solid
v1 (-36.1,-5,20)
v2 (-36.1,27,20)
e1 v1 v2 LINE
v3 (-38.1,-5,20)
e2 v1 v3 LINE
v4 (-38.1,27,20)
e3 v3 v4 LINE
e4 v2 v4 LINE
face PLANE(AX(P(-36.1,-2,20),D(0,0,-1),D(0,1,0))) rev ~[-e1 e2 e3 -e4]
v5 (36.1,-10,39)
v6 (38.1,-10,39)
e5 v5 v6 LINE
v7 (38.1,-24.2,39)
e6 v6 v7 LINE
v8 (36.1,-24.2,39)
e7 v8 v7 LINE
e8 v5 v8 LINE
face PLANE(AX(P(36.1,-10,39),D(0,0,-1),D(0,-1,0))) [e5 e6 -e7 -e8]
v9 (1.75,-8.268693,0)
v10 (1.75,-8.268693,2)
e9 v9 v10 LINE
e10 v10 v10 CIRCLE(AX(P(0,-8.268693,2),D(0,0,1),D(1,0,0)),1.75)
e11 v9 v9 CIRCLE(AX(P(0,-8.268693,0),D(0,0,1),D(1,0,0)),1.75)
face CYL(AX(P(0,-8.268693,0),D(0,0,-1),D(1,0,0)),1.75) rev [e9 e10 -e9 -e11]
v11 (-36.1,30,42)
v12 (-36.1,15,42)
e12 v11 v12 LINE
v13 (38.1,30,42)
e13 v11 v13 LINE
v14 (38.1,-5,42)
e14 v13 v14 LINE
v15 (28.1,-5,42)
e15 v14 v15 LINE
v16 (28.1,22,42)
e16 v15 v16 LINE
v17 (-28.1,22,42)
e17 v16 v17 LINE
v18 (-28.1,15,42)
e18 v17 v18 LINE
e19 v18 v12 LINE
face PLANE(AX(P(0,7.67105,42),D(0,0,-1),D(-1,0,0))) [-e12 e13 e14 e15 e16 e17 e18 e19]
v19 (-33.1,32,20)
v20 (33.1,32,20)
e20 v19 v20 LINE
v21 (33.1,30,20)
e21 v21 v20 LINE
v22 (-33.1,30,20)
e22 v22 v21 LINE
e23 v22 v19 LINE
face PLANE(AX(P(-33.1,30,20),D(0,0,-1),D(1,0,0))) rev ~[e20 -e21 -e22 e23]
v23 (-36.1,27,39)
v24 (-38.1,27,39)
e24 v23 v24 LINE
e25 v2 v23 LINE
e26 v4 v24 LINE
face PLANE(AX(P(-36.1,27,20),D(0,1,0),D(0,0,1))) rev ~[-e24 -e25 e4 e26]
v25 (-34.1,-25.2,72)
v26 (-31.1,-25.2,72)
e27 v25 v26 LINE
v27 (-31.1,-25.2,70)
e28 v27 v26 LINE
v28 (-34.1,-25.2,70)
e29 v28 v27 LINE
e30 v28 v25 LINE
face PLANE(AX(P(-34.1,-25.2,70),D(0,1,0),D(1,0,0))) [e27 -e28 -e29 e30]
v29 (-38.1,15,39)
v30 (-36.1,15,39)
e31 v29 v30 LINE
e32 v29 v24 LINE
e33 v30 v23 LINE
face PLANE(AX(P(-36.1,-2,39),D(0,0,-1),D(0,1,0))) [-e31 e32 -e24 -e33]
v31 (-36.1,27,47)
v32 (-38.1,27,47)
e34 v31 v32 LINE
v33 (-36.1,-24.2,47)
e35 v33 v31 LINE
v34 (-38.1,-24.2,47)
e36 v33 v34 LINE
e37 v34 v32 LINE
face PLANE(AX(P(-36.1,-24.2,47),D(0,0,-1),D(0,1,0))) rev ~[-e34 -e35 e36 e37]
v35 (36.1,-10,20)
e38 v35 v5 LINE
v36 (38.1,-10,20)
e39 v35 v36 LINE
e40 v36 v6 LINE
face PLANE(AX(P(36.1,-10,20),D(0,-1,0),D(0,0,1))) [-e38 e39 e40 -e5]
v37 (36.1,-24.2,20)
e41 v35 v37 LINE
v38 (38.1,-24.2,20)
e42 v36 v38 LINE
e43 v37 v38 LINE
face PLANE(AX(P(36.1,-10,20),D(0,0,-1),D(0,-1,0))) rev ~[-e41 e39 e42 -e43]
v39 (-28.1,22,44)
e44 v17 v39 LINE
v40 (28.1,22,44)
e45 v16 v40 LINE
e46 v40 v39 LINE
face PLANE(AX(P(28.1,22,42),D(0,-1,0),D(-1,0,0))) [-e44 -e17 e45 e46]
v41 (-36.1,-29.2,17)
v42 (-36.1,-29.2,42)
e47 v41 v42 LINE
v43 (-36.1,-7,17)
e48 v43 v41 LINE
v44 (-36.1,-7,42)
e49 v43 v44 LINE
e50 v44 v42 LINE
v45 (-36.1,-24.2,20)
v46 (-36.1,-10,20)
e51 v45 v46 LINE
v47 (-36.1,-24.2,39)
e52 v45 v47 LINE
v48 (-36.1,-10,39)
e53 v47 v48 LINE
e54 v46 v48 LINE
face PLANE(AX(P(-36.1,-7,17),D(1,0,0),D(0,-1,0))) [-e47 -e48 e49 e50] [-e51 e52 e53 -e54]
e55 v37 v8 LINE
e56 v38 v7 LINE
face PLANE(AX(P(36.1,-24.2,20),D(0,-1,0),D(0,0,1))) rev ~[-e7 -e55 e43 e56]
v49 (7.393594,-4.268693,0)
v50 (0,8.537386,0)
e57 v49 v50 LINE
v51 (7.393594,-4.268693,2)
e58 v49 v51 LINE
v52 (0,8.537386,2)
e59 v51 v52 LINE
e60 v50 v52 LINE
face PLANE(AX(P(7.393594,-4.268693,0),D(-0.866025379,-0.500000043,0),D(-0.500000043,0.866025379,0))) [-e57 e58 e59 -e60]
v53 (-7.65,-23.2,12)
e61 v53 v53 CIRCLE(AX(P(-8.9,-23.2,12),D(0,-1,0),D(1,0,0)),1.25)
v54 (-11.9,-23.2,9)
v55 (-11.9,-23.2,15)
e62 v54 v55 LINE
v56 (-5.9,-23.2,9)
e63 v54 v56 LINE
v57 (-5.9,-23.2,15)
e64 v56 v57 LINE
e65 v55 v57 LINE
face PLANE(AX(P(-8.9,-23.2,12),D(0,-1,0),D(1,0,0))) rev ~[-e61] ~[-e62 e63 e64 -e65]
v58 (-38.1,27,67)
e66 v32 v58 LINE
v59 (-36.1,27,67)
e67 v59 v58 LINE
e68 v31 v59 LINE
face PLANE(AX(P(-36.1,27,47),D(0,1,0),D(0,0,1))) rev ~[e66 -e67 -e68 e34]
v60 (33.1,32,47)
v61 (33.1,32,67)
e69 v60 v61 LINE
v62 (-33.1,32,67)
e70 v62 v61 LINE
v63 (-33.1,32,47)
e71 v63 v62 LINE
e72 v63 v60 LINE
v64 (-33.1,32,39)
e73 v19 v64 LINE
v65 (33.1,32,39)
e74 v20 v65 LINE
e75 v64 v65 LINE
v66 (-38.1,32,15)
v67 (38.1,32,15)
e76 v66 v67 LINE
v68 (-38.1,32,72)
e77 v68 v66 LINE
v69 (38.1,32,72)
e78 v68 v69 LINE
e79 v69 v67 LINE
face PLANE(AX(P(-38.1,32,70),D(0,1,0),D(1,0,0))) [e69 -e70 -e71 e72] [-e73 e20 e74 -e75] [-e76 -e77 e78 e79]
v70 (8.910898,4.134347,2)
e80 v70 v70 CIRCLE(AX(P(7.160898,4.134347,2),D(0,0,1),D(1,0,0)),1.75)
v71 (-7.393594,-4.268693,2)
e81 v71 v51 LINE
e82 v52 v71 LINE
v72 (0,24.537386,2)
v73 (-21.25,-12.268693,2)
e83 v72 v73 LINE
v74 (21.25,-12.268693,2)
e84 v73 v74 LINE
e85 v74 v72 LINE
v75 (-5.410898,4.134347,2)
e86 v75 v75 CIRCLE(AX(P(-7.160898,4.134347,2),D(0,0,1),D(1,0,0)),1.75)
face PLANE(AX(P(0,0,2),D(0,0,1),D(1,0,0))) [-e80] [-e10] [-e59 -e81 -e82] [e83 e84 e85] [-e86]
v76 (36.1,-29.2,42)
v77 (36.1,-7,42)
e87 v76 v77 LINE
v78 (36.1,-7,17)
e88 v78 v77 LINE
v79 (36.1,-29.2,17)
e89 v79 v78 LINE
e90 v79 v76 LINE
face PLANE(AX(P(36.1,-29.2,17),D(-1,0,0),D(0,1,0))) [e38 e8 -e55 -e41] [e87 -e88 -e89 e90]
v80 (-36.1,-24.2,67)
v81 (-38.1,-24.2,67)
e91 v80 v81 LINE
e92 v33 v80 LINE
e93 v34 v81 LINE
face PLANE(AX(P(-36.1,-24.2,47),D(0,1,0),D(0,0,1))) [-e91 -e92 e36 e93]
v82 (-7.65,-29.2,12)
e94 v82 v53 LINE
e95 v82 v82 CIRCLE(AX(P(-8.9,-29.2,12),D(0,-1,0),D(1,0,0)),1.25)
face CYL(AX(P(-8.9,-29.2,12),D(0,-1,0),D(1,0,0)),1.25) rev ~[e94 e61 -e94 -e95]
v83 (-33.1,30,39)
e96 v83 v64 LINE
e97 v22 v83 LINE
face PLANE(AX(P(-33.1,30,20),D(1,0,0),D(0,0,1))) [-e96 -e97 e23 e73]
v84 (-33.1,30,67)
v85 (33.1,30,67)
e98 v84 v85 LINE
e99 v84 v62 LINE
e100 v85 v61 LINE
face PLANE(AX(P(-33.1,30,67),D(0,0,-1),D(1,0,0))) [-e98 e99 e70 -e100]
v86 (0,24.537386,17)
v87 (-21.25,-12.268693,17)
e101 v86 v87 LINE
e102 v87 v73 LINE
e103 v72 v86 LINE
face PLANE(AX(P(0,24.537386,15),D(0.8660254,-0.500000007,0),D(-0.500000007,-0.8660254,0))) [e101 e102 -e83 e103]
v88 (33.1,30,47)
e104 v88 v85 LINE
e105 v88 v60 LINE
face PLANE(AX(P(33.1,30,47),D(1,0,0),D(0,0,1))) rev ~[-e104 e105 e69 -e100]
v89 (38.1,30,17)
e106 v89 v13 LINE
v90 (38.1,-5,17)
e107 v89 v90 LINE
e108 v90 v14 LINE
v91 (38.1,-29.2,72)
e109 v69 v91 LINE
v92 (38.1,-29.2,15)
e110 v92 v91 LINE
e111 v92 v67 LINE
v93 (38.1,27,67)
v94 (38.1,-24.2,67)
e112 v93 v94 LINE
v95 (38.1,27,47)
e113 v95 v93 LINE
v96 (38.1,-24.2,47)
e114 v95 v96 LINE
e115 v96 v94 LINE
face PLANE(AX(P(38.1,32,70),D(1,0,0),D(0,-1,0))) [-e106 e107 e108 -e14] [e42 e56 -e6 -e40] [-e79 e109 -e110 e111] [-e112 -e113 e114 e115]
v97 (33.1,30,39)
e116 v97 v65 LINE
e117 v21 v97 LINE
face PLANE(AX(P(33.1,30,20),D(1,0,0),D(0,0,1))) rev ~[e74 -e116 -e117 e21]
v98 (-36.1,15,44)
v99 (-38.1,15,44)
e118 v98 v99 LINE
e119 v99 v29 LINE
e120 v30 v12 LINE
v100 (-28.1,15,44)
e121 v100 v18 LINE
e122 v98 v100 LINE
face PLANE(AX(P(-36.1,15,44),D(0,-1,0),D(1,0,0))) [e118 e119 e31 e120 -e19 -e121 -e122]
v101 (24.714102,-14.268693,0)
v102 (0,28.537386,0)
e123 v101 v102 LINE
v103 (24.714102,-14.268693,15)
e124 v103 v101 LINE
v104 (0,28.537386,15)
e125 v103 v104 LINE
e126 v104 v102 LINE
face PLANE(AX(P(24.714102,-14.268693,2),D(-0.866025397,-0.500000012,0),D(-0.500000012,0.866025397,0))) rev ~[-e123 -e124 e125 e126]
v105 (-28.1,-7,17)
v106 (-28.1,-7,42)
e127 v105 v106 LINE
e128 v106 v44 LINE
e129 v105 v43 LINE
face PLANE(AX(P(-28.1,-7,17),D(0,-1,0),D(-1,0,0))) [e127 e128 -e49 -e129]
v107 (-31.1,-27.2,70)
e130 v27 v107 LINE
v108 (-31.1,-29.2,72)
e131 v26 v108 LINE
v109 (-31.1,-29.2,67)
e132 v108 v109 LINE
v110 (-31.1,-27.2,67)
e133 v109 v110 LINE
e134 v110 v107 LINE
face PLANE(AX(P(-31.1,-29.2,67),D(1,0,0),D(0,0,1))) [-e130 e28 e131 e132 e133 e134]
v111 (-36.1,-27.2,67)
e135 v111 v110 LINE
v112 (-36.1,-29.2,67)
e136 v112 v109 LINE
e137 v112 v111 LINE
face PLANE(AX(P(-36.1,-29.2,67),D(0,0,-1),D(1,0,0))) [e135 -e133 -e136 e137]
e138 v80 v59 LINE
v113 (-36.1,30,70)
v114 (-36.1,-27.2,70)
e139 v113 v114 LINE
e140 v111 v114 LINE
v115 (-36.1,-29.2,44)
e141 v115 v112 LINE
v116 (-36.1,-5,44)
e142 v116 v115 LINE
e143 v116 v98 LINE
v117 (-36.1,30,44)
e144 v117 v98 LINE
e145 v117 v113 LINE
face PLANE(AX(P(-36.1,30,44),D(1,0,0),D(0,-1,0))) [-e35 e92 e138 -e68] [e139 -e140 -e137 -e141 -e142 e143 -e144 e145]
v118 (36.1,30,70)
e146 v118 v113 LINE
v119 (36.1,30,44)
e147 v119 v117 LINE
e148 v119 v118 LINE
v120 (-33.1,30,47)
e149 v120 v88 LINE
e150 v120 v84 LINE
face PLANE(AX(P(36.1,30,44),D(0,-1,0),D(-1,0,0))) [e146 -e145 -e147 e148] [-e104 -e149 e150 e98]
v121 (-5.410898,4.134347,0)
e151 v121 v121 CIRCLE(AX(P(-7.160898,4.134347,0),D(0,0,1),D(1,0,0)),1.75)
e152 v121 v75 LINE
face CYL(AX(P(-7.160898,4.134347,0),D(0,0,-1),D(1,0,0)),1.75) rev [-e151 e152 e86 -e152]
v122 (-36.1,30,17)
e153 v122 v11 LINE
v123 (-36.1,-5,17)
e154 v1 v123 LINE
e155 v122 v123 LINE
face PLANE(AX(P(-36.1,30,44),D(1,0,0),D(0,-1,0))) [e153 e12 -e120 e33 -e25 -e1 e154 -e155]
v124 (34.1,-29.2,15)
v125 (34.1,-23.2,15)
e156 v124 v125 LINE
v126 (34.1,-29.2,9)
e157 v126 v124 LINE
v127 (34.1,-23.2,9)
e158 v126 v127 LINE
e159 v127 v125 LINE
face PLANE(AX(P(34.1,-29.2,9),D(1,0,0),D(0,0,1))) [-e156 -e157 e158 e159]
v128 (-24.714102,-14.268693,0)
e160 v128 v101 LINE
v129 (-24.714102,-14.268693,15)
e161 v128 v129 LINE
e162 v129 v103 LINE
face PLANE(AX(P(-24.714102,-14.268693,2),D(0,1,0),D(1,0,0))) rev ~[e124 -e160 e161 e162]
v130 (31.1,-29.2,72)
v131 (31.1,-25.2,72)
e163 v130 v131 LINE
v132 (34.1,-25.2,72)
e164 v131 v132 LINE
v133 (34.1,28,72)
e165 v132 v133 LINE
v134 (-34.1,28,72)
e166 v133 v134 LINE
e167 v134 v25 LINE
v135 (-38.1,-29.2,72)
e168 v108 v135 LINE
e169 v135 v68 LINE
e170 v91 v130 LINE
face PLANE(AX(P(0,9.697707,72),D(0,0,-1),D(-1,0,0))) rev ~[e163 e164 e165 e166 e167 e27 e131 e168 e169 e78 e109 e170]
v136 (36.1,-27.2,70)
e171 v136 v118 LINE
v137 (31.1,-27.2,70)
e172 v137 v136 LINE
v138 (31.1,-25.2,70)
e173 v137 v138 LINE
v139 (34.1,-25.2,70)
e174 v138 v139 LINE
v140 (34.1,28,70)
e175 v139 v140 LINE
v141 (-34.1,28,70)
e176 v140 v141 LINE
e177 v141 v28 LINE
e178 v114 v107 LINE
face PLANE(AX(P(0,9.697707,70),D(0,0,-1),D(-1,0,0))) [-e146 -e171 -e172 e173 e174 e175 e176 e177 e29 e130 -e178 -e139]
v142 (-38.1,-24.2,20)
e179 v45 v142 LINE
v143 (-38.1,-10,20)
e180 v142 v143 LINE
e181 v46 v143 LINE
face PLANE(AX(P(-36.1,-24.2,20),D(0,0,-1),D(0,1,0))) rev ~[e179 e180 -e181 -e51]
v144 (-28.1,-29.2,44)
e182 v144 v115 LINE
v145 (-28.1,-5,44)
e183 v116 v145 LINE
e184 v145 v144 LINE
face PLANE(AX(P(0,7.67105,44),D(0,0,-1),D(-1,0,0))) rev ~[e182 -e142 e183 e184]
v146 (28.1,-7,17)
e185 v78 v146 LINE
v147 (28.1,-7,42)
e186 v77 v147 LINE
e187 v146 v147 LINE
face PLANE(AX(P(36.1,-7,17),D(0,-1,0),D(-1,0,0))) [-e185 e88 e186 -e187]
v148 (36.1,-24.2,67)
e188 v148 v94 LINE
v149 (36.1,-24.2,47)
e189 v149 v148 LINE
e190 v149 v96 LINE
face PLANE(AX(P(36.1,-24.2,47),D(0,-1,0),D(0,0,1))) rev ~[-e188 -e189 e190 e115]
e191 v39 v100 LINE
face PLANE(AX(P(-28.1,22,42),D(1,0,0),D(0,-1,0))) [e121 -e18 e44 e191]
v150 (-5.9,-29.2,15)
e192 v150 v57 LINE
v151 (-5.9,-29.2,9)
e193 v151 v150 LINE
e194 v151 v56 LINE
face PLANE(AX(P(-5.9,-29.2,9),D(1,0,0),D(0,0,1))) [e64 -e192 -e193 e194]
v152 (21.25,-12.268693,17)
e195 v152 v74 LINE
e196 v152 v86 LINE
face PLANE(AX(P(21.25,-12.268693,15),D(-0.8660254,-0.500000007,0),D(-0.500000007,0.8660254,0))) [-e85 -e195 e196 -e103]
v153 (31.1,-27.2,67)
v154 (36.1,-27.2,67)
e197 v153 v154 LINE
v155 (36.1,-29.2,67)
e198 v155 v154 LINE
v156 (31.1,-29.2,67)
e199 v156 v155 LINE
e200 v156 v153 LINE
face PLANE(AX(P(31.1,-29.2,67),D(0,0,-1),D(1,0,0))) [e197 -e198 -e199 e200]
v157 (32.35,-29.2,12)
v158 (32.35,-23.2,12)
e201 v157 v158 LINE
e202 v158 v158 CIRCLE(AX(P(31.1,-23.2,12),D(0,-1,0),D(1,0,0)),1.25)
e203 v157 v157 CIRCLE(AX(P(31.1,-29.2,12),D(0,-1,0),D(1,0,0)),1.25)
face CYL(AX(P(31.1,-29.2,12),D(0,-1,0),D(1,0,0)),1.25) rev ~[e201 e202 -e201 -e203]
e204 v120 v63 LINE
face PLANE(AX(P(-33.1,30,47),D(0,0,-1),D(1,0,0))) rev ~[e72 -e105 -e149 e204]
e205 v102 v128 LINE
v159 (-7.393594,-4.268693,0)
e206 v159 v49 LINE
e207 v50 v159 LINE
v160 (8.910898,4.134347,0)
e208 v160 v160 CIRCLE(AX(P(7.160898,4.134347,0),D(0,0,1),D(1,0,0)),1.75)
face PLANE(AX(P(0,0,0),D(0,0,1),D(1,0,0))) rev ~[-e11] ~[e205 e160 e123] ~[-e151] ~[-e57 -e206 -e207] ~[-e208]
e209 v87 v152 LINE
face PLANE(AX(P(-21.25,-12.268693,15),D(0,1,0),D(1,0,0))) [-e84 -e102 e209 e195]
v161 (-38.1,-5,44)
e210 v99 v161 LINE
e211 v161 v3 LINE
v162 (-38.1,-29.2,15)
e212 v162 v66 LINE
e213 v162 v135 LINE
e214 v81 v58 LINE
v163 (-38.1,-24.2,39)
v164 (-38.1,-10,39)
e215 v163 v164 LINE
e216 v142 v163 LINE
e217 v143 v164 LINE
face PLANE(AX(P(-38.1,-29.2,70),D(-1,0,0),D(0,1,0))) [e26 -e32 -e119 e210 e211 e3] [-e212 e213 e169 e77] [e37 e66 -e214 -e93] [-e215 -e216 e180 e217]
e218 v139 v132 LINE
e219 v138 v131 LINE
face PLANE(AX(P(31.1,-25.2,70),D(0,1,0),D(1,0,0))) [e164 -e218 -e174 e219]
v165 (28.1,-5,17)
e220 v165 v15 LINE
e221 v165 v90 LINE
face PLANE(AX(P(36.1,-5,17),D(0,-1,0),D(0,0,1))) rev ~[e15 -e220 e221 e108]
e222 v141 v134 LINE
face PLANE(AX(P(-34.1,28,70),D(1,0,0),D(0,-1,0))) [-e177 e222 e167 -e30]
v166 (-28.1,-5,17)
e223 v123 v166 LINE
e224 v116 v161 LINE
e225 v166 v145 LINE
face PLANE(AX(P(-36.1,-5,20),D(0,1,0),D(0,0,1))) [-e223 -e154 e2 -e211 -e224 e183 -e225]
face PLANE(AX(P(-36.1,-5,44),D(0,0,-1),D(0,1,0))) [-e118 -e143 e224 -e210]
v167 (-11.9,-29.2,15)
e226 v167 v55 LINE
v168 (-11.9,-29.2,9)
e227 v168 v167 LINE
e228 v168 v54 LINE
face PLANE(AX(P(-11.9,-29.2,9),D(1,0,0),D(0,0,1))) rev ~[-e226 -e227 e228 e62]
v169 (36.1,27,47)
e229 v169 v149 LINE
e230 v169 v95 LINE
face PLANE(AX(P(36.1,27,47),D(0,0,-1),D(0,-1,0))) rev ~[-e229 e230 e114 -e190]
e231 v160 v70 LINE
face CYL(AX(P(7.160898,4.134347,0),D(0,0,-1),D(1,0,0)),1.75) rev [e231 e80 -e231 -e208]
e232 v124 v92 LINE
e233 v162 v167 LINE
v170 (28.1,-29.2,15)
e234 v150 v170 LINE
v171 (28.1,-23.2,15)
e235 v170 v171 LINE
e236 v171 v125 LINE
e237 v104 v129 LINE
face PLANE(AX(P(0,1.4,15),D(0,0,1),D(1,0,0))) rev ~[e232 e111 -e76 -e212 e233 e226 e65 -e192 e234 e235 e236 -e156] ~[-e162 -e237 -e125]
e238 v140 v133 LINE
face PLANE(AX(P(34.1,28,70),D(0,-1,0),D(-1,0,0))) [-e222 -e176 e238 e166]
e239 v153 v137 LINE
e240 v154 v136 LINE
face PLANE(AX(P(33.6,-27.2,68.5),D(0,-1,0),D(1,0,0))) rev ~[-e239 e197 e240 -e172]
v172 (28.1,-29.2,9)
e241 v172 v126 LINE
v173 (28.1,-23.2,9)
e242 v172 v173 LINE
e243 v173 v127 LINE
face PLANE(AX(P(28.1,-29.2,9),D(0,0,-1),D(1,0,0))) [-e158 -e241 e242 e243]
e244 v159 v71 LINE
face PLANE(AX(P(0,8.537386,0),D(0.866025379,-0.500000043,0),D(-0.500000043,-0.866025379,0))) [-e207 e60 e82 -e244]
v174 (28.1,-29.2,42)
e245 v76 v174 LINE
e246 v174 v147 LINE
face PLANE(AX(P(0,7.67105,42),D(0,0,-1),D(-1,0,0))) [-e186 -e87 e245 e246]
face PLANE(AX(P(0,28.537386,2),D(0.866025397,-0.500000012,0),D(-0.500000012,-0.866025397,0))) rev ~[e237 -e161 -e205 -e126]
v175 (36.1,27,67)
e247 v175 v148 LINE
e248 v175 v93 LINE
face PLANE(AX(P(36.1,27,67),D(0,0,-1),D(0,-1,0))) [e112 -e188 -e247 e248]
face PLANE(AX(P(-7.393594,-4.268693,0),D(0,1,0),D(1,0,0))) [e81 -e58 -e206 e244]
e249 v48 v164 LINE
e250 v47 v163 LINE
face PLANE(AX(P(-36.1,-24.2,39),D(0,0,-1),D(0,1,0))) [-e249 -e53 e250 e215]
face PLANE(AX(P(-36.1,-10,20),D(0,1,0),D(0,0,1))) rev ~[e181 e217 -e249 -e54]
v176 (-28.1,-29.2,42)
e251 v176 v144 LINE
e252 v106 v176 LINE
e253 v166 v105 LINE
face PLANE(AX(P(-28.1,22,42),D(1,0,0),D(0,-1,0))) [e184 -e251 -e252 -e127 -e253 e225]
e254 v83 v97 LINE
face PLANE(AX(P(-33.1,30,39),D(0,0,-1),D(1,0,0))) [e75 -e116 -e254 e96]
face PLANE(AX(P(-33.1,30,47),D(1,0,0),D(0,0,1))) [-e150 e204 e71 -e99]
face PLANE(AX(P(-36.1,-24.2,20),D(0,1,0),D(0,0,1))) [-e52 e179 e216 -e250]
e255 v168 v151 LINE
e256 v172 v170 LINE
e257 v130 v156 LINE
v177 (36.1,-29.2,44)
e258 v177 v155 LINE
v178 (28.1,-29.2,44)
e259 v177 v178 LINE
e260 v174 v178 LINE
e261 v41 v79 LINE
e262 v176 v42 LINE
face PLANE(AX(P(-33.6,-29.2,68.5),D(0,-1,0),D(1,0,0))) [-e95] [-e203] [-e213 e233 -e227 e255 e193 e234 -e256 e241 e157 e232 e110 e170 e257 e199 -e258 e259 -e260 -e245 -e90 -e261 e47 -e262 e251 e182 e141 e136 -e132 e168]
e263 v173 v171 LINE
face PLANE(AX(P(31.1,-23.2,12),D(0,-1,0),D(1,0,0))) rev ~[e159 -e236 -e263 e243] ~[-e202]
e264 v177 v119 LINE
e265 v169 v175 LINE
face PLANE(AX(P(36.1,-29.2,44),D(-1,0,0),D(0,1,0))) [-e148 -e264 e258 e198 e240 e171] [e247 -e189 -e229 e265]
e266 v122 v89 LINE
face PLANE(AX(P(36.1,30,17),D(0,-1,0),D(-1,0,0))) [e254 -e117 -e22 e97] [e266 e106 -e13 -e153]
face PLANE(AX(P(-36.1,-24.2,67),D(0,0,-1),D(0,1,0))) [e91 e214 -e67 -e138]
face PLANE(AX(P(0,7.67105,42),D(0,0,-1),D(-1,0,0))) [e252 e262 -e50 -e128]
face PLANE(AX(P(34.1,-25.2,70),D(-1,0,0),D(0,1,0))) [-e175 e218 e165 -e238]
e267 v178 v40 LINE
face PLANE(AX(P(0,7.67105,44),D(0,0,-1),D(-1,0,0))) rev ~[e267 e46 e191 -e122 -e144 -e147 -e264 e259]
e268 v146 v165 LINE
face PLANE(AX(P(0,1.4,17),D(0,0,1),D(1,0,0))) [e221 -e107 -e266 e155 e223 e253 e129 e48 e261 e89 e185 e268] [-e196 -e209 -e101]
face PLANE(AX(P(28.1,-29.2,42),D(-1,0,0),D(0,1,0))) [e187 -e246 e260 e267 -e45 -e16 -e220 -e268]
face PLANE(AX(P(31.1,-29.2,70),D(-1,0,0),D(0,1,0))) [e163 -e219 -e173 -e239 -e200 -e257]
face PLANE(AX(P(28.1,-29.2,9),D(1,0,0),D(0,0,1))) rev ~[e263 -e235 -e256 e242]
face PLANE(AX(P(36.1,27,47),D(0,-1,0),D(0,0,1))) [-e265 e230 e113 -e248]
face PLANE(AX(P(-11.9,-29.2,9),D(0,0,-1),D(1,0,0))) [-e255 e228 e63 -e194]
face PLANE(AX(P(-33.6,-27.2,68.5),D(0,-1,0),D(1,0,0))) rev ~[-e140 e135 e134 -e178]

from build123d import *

# Parameters (mm, degrees)
SKETCH_R        = 1.75
PAD_DEPTH       = 2
PAD001_DEPTH    = 13
SKETCH002_W     = 76.2
SKETCH002_H     = 61.2
PAD002_DEPTH    = 2
PAD003_DEPTH    = 25
SKETCH004_W     = 14.2
SKETCH004_H     = 19
SKETCH004_W_2   = 29
POCKET_DEPTH    = 2
SKETCH005_W     = 66.2
SKETCH005_H     = 19
POCKET001_DEPTH = 2
SKETCH006_W     = 35
SKETCH006_H     = 25
SKETCH006_W_2   = 14.2
SKETCH006_H_2   = 19
POCKET002_DEPTH = 2
PAD004_DEPTH    = 2
PAD005_DEPTH    = 26
SKETCH009_W     = 51.2
SKETCH009_H     = 20
POCKET003_DEPTH = 2
SKETCH010_W     = 66.2
SKETCH010_H     = 20
POCKET004_DEPTH = 2
SKETCH011_W     = 51.2
SKETCH011_H     = 20
POCKET005_DEPTH = 2
PAD006_DEPTH    = 2
SKETCH013_W     = 5
SKETCH013_H     = 3
PAD007_DEPTH    = 2
SKETCH014_W     = 6
SKETCH014_H     = 6
SKETCH014_R     = 1.25
PAD008_DEPTH    = 6
SKETCH015_W     = 8
SKETCH015_H     = 20
POCKET006_DEPTH = 5
SKETCH016_W     = 20
SKETCH016_H     = 24
POCKET007_DEPTH = 5


with BuildPart() as part:
    # Sketch → Pad (new body)
    with BuildSketch(Plane.XY):
        Polygon((0, 28.537386), (-24.714102, -14.268693), (24.714102, -14.268693), align=None)
        with Locations((7.160898, 4.134347)):
            Circle(SKETCH_R, mode=Mode.SUBTRACT)
        with Locations((0, -8.268693)):
            Circle(SKETCH_R, mode=Mode.SUBTRACT)
        with Locations((-7.160898, 4.134347)):
            Circle(SKETCH_R, mode=Mode.SUBTRACT)
        Polygon((0, 8.537386), (-7.393594, -4.268693), (7.393594, -4.268693), align=None, mode=Mode.SUBTRACT)
    extrude(amount=PAD_DEPTH)

    # Sketch001 (on Face11 of Pad) → Pad001 (join)
    with BuildSketch(Plane.XY.offset(2)):
        Polygon((0, 28.537386), (-24.714102, -14.268693), (24.714102, -14.268693), align=None)
        Polygon((0, 24.537386), (-21.25, -12.268693), (21.25, -12.268693), align=None, mode=Mode.SUBTRACT)
    extrude(amount=PAD001_DEPTH)

    # Sketch002 (on Face14 of Pad001) → Pad002 (join)
    with BuildSketch(Plane.XY.offset(15)):
        with Locations((0, 1.4)):
            Rectangle(SKETCH002_W, SKETCH002_H)
        Polygon((0, 24.537386), (-21.25, -12.268693), (21.25, -12.268693), align=None, mode=Mode.SUBTRACT)
    extrude(amount=PAD002_DEPTH)

    # Sketch003 (on Face23 of Pad002) → Pad003 (join)
    with BuildSketch(Plane.XY.offset(17)):
        Polygon((-38.1, -29.2), (-38.1, 32), (38.1, 32), (38.1, -29.2), (36.1, -29.2), (36.1, -7), (28.1, -7), (28.1, -5), (36.1, -5), (36.1, 30), (-36.1, 30), (-36.1, -5), (-28.1, -5), (-28.1, -7), (-36.1, -7), (-36.1, -29.2), align=None)
    extrude(amount=PAD003_DEPTH)

    # Sketch004 (on Face39 of Pad003) → Pocket (cut)
    with BuildSketch(Plane.YZ.offset(-36.1)):
        with Locations((-17.1, 29.5)):
            Rectangle(SKETCH004_W, SKETCH004_H)
        with Locations((12.5, 29.5)):
            Rectangle(SKETCH004_W_2, SKETCH004_H)
    extrude(amount=-POCKET_DEPTH, mode=Mode.SUBTRACT)

    # Sketch005 (on Face46 of Pocket) → Pocket001 (cut)
    with BuildSketch(Plane.XZ.offset(-30)):
        with Locations((0, 29.5)):
            Rectangle(SKETCH005_W, SKETCH005_H)
    extrude(amount=-POCKET001_DEPTH, mode=Mode.SUBTRACT)

    # Sketch006 (on Face49 of Pocket001) → Pocket002 (cut)
    with BuildSketch(Plane(origin=(36.1, 0, 0), x_dir=(0, -1, 0), z_dir=(-1, 0, 0))):
        with Locations((-12.5, 29.5)):
            Rectangle(SKETCH006_W, SKETCH006_H)
        with Locations((17.1, 29.5)):
            Rectangle(SKETCH006_W_2, SKETCH006_H_2)
    extrude(amount=-POCKET002_DEPTH, mode=Mode.SUBTRACT)

    # Sketch007 (on Face34 of Pocket002) → Pad004 (join)
    with BuildSketch(Plane.XY.offset(42)):
        Polygon((-38.1, -29.2), (-38.1, 32), (38.1, 32), (38.1, -29.2), (28.1, -29.2), (28.1, 22), (-28.1, 22), (-28.1, -29.2), align=None)
    extrude(amount=PAD004_DEPTH)

    # Sketch008 (on Face67 of Pad004) → Pad005 (join)
    with BuildSketch(Plane.XY.offset(44)):
        Polygon((-38.1, -29.2), (-38.1, 32), (38.1, 32), (38.1, -29.2), (36.1, -29.2), (36.1, 30), (-36.1, 30), (-36.1, -29.2), align=None)
    extrude(amount=PAD005_DEPTH)

    # Sketch009 (on Face82 of Pad005) → Pocket003 (cut)
    with BuildSketch(Plane.YZ.offset(-36.1)):
        with Locations((1.4, 57)):
            Rectangle(SKETCH009_W, SKETCH009_H)
    extrude(amount=-POCKET003_DEPTH, mode=Mode.SUBTRACT)

    # Sketch010 (on Face85 of Pocket003) → Pocket004 (cut)
    with BuildSketch(Plane.XZ.offset(-30)):
        with Locations((0, 57)):
            Rectangle(SKETCH010_W, SKETCH010_H)
    extrude(amount=-POCKET004_DEPTH, mode=Mode.SUBTRACT)

    # Sketch011 (on Face88 of Pocket004) → Pocket005 (cut)
    with BuildSketch(Plane(origin=(36.1, 0, 0), x_dir=(0, -1, 0), z_dir=(-1, 0, 0))):
        with Locations((-1.4, 57)):
            Rectangle(SKETCH011_W, SKETCH011_H)
    extrude(amount=-POCKET005_DEPTH, mode=Mode.SUBTRACT)

    # Sketch012 (on Face78 of Pocket005) → Pad006 (join)
    with BuildSketch(Plane.XY.offset(70)):
        Polygon((-38.1, -29.2), (-38.1, 32), (38.1, 32), (38.1, -29.2), (31.1, -29.2), (31.1, -25.2), (34.1, -25.2), (34.1, 28), (-34.1, 28), (-34.1, -25.2), (-31.1, -25.2), (-31.1, -29.2), align=None)
    extrude(amount=PAD006_DEPTH)

    # Sketch013 (on Face98 of Pad006) → Pad007 (join)
    with BuildSketch(Plane.XZ.offset(29.2)):
        with Locations((-33.6, 68.5)):
            Rectangle(SKETCH013_W, SKETCH013_H)
        with Locations((33.6, 68.5)):
            Rectangle(SKETCH013_W, SKETCH013_H)
    extrude(amount=-PAD007_DEPTH)

    # Sketch014 (on Face19 of Pad007) → Pad008 (join)
    with BuildSketch(Plane.XZ.offset(29.2)):
        with Locations((31.1, 12)):
            Rectangle(SKETCH014_W, SKETCH014_H)
        with Locations((31.1, 12)):
            Circle(SKETCH014_R, mode=Mode.SUBTRACT)
        with Locations((-8.9, 12)):
            Rectangle(SKETCH014_W, SKETCH014_H)
        with Locations((-8.9, 12)):
            Circle(SKETCH014_R, mode=Mode.SUBTRACT)
    extrude(amount=-PAD008_DEPTH)

    # Sketch015 (on Face83 of Pad008) → Pocket006 (cut)
    with BuildSketch(Plane.XY.offset(44)):
        with Locations((-32.1, 5)):
            Rectangle(SKETCH015_W, SKETCH015_H)
    extrude(amount=-POCKET006_DEPTH, mode=Mode.SUBTRACT)

    # Sketch016 (on Face61 of Pocket006) → Pocket007 (cut)
    with BuildSketch(Plane.YZ.offset(-36.1)):
        with Locations((5, 32)):
            Rectangle(SKETCH016_W, SKETCH016_H)
    extrude(amount=-POCKET007_DEPTH, mode=Mode.SUBTRACT)


solid = part.part
